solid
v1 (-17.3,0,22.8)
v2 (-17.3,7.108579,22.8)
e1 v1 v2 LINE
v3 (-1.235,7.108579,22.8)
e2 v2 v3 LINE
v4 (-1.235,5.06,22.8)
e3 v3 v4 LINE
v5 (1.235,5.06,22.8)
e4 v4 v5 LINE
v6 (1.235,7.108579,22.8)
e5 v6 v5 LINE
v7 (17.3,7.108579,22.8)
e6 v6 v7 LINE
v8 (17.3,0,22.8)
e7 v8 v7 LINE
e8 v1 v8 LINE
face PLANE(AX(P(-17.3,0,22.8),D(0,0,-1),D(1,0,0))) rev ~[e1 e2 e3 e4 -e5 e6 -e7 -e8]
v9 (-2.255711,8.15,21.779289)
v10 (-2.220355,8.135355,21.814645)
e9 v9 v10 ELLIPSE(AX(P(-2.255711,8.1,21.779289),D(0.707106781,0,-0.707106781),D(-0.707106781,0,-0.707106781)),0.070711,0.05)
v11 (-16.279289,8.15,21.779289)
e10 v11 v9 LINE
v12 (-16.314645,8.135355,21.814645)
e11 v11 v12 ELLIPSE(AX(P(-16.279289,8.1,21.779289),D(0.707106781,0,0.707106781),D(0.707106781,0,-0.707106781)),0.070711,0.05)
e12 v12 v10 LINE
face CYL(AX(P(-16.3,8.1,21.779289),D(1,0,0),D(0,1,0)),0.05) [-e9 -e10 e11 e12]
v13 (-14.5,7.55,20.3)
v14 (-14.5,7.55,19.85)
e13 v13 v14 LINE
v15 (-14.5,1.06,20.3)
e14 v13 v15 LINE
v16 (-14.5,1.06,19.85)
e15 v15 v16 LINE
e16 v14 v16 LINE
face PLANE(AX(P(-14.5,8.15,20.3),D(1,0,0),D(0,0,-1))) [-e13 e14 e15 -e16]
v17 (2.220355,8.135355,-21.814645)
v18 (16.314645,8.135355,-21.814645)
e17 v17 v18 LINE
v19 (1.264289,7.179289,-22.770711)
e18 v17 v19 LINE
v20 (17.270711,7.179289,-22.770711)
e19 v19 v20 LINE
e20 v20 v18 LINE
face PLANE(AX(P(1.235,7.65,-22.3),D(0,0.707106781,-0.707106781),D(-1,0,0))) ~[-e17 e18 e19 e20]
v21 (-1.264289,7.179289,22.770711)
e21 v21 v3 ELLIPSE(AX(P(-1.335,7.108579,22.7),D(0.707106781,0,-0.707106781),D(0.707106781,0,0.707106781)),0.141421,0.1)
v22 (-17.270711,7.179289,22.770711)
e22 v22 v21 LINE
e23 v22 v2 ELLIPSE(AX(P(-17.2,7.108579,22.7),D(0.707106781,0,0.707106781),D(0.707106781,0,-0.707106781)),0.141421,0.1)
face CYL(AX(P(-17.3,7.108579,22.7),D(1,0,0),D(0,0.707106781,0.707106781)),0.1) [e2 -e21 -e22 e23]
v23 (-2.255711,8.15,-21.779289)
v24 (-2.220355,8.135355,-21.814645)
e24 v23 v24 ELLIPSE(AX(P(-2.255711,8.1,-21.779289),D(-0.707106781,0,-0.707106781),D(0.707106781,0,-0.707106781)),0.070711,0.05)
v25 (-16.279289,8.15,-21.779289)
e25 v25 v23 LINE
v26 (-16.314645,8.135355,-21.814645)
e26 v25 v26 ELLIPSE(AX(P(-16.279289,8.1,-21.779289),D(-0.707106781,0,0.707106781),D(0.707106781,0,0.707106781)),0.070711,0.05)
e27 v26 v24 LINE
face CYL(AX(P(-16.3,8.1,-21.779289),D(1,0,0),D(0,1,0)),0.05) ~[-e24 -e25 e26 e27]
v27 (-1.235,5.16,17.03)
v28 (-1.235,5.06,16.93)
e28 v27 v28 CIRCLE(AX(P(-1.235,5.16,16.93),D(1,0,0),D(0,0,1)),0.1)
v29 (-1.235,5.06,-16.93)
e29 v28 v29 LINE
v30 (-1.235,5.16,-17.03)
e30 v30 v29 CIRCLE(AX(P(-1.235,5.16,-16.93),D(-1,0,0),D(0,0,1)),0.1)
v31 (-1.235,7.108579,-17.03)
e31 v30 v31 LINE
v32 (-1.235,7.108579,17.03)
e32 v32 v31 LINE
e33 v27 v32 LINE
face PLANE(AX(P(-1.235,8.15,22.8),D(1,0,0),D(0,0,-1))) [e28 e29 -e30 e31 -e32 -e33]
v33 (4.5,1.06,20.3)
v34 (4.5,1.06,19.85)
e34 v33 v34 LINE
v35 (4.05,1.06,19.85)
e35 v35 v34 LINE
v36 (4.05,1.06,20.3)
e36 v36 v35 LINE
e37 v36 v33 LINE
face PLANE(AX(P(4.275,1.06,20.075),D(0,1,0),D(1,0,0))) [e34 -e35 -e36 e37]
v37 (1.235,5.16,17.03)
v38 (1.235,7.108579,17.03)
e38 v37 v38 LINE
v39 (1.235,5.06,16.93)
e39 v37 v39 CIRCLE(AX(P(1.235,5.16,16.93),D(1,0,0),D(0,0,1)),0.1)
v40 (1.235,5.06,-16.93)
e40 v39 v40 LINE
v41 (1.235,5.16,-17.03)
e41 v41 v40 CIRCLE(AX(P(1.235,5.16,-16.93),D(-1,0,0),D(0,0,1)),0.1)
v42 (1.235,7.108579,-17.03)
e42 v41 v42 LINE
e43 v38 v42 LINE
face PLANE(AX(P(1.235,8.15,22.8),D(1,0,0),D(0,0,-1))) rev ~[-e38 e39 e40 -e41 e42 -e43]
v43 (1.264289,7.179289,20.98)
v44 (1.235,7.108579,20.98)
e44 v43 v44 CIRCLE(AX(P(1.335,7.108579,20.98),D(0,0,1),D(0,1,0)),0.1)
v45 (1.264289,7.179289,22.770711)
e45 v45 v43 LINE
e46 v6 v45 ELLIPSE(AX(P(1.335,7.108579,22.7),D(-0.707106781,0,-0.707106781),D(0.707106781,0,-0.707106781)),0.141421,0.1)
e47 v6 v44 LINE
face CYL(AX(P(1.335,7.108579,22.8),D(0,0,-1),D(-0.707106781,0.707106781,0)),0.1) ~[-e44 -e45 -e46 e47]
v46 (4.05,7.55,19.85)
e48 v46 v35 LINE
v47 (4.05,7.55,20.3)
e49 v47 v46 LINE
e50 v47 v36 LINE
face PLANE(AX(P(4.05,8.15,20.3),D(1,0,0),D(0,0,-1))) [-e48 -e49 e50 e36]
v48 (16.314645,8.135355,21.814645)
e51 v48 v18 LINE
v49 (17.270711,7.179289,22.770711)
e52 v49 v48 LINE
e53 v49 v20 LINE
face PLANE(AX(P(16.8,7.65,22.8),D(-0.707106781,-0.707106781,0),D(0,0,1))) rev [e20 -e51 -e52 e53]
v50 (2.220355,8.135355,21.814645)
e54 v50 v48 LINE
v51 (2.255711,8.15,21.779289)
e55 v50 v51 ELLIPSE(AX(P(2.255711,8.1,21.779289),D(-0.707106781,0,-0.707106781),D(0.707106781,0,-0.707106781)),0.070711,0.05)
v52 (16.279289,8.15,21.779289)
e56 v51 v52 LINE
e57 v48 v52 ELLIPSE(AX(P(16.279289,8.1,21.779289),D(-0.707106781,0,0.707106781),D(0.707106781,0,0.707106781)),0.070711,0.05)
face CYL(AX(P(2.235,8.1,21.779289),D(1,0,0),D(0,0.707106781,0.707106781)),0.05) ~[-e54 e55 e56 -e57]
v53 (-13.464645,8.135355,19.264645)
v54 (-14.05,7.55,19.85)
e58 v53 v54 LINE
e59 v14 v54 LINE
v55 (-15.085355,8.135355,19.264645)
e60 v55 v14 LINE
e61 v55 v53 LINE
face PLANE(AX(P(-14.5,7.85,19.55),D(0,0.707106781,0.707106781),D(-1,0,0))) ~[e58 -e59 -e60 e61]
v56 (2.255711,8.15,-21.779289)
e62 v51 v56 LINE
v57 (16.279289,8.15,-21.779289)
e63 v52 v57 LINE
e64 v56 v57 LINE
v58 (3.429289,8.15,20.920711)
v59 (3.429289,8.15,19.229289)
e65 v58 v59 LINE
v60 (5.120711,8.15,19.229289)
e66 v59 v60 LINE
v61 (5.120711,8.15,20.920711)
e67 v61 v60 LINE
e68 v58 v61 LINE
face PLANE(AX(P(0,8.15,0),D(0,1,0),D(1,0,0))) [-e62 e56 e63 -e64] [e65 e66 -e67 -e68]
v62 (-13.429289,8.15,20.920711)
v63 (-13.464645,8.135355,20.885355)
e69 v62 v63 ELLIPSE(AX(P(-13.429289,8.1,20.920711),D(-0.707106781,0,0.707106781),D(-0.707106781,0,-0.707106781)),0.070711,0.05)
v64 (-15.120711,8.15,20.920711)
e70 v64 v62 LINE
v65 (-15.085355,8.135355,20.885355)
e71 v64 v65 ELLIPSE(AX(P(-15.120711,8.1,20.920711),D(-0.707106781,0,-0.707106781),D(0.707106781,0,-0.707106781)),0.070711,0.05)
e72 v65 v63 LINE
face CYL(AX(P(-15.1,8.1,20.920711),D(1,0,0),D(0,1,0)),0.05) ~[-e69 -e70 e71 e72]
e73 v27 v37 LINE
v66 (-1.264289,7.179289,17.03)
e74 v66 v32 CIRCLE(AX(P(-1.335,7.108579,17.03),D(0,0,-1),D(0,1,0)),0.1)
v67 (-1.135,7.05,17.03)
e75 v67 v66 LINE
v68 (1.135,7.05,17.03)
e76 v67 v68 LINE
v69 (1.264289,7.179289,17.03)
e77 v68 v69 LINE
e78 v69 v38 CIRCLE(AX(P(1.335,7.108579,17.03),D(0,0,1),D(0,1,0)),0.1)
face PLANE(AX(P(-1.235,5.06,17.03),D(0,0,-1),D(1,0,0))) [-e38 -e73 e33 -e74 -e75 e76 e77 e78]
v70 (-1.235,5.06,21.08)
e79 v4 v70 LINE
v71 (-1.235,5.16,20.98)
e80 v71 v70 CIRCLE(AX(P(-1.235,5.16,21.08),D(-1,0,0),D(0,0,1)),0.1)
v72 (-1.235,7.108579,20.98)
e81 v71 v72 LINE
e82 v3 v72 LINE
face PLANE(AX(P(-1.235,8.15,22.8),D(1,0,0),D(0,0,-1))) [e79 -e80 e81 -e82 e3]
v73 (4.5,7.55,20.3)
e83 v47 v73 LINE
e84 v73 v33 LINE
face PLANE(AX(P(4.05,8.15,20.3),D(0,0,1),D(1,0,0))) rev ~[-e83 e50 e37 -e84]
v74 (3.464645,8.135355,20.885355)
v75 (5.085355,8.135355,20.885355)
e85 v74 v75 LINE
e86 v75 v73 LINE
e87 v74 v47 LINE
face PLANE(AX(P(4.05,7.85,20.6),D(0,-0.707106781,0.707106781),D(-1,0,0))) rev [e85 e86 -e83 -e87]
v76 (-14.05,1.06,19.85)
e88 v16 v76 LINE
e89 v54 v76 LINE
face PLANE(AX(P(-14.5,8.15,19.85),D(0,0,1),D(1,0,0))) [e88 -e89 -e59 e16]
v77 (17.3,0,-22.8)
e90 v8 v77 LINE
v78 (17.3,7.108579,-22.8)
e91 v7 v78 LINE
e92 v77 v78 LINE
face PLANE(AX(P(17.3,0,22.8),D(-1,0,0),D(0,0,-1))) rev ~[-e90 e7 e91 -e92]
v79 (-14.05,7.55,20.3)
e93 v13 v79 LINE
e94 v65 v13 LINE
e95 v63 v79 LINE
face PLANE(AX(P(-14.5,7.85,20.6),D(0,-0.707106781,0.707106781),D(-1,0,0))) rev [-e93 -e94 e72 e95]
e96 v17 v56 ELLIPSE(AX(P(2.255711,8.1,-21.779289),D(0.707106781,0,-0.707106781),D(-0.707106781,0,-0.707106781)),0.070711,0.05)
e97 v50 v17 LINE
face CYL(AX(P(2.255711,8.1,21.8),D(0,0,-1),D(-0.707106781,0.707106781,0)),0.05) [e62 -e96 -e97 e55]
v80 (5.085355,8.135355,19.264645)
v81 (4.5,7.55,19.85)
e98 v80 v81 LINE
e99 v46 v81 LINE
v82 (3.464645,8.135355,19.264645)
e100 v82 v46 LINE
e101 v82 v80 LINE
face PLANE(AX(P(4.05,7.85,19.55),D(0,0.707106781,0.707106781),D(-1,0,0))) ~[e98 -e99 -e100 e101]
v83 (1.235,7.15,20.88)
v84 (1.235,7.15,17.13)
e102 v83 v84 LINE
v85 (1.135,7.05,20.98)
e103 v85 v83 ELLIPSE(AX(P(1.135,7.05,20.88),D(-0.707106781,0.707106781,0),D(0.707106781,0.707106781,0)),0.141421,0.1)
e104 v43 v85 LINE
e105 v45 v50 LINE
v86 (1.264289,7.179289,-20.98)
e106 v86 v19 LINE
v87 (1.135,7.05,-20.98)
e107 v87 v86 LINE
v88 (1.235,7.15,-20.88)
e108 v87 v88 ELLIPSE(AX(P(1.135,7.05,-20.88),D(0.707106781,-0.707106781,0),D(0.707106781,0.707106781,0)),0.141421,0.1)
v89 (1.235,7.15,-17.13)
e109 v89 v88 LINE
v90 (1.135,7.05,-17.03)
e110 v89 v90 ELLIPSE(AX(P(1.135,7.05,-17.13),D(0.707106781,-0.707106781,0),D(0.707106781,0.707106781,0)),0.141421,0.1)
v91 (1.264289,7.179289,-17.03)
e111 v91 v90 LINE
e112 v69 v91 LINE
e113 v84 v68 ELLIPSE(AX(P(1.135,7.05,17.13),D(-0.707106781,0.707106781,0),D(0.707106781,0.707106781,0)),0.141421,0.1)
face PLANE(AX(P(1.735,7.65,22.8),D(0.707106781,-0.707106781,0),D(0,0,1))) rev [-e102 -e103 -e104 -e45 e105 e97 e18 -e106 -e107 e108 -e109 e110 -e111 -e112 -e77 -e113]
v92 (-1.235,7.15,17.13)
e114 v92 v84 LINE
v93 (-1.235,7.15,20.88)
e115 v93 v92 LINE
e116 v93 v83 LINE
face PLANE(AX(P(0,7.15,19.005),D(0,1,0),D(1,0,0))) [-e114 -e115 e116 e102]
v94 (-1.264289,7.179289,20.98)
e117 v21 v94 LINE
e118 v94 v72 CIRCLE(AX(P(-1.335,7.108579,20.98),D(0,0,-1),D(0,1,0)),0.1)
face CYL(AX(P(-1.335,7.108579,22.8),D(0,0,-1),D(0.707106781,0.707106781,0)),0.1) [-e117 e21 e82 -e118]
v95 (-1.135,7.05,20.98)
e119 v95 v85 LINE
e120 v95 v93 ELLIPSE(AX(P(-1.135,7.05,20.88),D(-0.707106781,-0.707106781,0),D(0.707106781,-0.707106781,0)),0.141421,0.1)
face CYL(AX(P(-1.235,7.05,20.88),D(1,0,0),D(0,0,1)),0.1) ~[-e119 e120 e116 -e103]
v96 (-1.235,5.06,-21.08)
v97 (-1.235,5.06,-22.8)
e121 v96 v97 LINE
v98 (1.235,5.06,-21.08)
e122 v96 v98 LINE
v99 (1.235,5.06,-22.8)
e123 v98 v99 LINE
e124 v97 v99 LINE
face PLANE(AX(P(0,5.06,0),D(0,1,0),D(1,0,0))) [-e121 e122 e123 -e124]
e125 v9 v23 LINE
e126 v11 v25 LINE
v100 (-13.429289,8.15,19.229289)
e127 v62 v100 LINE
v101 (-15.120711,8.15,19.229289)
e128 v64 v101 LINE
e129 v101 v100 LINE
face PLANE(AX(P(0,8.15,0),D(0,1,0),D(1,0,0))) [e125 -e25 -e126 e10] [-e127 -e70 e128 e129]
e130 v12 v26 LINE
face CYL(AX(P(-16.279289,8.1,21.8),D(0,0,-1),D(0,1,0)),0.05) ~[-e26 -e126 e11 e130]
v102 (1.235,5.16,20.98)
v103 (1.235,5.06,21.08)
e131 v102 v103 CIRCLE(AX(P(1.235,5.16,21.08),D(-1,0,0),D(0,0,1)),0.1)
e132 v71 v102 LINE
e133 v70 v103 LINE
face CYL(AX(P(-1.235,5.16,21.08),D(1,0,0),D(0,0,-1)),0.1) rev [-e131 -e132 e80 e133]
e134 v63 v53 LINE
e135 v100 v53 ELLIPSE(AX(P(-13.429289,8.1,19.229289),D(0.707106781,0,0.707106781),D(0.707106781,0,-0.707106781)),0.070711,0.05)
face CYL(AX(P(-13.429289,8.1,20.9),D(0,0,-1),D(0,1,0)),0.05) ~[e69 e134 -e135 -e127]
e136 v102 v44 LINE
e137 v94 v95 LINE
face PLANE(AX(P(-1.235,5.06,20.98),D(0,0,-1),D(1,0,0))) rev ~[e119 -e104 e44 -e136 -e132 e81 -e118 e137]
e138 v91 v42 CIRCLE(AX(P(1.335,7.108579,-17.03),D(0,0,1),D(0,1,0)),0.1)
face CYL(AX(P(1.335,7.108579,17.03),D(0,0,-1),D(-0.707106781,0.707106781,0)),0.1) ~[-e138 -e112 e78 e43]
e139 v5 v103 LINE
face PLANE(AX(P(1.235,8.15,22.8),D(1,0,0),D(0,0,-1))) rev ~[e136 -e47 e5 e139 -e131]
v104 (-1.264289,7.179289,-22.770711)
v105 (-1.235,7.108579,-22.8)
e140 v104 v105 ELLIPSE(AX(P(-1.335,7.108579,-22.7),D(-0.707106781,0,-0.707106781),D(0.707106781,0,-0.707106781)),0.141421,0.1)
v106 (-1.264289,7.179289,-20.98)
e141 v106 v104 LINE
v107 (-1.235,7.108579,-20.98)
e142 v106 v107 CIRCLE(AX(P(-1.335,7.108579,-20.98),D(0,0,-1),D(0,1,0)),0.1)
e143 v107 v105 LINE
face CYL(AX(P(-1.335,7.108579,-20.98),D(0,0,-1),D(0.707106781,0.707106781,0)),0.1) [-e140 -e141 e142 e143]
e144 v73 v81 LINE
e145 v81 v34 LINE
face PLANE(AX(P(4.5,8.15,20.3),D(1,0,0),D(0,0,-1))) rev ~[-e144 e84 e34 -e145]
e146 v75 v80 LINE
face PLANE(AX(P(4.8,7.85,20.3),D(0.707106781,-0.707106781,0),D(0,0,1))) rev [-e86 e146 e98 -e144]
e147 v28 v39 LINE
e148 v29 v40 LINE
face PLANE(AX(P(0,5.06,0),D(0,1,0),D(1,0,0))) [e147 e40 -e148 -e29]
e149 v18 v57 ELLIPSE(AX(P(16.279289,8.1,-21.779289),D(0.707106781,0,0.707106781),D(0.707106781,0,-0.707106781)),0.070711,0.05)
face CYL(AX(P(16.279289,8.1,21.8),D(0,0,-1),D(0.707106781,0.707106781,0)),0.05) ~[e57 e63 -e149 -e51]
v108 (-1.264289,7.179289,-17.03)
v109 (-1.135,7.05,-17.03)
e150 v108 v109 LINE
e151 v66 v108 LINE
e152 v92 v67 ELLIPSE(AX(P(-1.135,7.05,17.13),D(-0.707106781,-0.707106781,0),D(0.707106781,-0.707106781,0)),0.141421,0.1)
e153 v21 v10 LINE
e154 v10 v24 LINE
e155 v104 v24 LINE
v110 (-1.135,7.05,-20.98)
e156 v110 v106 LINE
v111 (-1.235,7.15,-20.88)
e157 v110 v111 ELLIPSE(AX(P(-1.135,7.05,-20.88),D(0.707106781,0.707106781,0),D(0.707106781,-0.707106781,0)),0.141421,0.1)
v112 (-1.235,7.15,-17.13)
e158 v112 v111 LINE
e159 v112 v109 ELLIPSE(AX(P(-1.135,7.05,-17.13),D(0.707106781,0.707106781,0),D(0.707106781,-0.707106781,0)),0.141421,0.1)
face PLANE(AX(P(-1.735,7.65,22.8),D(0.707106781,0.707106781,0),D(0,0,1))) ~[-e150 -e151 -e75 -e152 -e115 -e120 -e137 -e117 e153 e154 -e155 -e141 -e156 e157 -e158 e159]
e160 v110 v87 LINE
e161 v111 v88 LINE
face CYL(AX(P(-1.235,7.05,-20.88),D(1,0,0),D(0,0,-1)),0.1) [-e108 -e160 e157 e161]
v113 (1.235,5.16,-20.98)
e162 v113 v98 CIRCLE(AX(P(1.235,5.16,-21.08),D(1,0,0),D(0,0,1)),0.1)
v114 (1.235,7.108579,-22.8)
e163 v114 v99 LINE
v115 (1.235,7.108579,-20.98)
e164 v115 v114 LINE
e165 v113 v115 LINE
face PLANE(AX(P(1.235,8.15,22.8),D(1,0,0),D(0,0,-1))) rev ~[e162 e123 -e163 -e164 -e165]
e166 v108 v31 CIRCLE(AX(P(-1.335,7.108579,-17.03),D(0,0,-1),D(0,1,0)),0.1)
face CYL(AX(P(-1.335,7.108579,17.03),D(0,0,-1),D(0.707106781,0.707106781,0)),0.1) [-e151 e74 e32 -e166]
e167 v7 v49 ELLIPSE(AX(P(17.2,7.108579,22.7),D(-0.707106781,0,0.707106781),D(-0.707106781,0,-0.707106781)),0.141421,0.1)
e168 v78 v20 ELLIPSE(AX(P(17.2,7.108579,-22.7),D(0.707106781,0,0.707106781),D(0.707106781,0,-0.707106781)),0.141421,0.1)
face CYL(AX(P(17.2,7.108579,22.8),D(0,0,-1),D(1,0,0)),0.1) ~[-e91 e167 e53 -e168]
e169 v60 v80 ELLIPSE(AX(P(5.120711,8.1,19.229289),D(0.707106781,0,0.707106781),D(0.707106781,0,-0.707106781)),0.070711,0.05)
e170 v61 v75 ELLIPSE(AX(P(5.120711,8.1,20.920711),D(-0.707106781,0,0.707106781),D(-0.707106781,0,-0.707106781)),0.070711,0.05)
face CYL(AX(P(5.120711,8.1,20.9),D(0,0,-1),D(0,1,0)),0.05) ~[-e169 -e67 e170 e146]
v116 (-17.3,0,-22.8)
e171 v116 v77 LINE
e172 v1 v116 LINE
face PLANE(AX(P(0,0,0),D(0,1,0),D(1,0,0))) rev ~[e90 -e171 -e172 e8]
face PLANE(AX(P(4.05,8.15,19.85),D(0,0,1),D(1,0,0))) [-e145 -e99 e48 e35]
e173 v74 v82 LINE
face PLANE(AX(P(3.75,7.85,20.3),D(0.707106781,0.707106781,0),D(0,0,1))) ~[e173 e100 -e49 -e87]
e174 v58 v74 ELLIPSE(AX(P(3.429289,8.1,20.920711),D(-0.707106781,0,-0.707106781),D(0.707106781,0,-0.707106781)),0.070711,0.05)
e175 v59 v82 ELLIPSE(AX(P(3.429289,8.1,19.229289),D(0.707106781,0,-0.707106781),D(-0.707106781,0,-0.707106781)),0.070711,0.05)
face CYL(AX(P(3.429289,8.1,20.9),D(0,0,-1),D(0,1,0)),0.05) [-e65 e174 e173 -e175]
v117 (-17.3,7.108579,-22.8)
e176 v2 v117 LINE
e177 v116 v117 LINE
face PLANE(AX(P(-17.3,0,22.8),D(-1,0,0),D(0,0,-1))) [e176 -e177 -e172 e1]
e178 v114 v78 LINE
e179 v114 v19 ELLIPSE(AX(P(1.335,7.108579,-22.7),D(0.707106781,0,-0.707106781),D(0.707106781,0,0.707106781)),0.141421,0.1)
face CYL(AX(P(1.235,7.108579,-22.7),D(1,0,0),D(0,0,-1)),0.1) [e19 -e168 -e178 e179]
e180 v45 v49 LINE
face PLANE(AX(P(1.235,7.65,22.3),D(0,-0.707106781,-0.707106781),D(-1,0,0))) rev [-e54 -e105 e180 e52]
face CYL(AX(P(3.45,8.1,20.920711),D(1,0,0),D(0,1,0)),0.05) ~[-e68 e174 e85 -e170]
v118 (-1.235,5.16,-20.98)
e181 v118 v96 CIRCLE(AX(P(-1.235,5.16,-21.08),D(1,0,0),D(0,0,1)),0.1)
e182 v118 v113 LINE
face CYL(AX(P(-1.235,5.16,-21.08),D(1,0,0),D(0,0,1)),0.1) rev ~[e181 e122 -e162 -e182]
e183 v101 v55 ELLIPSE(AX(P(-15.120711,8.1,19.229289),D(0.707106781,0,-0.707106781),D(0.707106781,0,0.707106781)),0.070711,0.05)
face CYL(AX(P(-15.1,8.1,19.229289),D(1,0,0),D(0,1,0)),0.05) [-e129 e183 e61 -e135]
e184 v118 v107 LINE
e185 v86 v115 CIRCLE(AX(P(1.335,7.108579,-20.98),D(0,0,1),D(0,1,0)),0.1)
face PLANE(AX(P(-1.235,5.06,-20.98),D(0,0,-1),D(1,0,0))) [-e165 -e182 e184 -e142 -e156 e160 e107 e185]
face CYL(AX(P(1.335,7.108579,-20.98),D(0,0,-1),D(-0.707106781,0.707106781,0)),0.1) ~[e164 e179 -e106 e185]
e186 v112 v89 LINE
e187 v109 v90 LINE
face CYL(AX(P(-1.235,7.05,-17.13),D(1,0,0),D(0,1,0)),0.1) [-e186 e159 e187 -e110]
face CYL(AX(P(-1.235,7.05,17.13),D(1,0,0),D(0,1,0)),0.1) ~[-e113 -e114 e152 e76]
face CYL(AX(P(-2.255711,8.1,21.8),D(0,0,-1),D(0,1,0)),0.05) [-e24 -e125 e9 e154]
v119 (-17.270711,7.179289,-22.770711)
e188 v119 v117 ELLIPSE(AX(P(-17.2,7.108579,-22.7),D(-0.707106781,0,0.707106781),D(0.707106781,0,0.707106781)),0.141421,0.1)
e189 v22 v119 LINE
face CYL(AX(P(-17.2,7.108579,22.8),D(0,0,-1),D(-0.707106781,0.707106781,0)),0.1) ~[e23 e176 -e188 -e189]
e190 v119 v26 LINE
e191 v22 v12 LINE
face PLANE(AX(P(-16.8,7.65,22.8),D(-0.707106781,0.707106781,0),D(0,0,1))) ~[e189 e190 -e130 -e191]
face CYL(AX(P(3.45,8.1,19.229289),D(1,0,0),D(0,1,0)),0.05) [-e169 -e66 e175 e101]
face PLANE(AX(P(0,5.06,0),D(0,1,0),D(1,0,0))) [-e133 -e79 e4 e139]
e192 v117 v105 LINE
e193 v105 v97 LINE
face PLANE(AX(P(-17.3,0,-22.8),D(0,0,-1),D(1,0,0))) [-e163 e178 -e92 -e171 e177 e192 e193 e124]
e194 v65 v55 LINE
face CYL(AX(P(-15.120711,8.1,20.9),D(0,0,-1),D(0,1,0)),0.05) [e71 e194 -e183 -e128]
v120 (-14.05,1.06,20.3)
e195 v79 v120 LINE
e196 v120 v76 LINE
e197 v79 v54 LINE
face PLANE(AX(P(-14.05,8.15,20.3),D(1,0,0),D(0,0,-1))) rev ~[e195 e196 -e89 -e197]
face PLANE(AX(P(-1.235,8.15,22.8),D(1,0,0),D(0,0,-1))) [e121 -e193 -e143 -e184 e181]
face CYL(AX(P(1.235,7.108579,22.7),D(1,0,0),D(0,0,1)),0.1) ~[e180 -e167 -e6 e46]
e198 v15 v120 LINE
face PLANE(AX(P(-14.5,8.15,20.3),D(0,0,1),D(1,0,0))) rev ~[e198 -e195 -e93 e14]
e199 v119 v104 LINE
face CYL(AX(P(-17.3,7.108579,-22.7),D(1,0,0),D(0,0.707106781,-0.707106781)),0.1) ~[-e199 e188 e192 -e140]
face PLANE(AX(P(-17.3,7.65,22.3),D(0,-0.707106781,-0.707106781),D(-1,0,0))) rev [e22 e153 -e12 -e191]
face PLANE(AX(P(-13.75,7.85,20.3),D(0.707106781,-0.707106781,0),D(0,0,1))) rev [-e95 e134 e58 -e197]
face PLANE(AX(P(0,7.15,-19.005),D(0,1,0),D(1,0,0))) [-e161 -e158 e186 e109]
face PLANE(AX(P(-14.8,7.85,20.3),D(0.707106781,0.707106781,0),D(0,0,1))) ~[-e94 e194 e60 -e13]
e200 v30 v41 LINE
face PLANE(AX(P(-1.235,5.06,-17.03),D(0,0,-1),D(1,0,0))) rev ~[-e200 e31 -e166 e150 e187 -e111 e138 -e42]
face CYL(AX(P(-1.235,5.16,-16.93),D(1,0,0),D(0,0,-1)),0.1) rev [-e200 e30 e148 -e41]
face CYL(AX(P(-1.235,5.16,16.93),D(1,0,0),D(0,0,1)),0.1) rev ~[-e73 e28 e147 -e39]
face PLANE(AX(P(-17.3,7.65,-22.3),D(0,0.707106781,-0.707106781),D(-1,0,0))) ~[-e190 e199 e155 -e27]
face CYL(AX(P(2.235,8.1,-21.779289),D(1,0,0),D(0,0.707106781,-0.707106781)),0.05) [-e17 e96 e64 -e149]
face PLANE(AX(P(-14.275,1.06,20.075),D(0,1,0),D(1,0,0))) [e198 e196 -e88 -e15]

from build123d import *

# Parameters (mm, degrees)
SKETCH1_W           = 34.6
SKETCH1_H           = 45.6
BOSS_EXTRUDE1_DEPTH = 8.15
SKETCH2_W           = 2.47
SKETCH2_H           = 45.6
CUT_EXTRUDE1_DEPTH  = 3.09
CHAMFER1_SIZE       = 1
SKETCH3_W           = 2.47
SKETCH3_H           = 3.95
BOSS_EXTRUDE2_DEPTH = 2.09
SKETCH4_W           = 0.45
SKETCH4_H           = 0.45
CUT_EXTRUDE2_DEPTH  = 7.09
CHAMFER2_SIZE       = 0.6
FILLET2_R           = 0.05
FILLET3_R           = 0.1
FILLET4_R           = 0.1


with BuildPart() as part:
    # Sketch1 → Boss-Extrude1 (new body)
    with BuildSketch(Plane(origin=(0, 0, 0), x_dir=(1, 0, 0), z_dir=(0, 1, 0))):
        Rectangle(SKETCH1_W, SKETCH1_H)
    extrude(amount=BOSS_EXTRUDE1_DEPTH)

    # Sketch2 → Cut-Extrude1 (cut)
    with BuildSketch(Plane(origin=(0, 8.15, 0), x_dir=(1, 0, 0), z_dir=(0, 1, 0))):
        Rectangle(SKETCH2_W, SKETCH2_H)
    extrude(amount=-CUT_EXTRUDE1_DEPTH, mode=Mode.SUBTRACT)

    # Chamfer1
    chamfer1_edges = [part.edges().sort_by_distance(p)[0] for p in [
        (-17.3, 8.15, 0),
        (-9.2675, 8.15, 22.8),
        (-9.2675, 8.15, -22.8),
        (9.2675, 8.15, 22.8),
        (1.235, 8.15, 0),
        (-1.235, 8.15, 0),
        (17.3, 8.15, 0),
        (9.2675, 8.15, -22.8),
    ]]
    chamfer(chamfer1_edges, length=CHAMFER1_SIZE)

    # Sketch3 → Boss-Extrude2 (add)
    with BuildSketch(Plane(origin=(0, 5.06, 0), x_dir=(1, 0, 0), z_dir=(0, 1, 0))):
        with Locations((0, 19.005)):
            Rectangle(SKETCH3_W, SKETCH3_H)
        with Locations((0, -19.005)):
            Rectangle(SKETCH3_W, SKETCH3_H)
    extrude(amount=BOSS_EXTRUDE2_DEPTH)

    # Sketch4 → Cut-Extrude2 (cut)
    with BuildSketch(Plane(origin=(0, 8.15, 0), x_dir=(1, 0, 0), z_dir=(0, 1, 0))):
        with Locations((-14.275, -20.075)):
            Rectangle(SKETCH4_W, SKETCH4_H)
        with Locations((4.275, -20.075)):
            Rectangle(SKETCH4_W, SKETCH4_H)
    extrude(amount=-CUT_EXTRUDE2_DEPTH, mode=Mode.SUBTRACT)

    # Chamfer2
    chamfer2_edges = [part.edges().sort_by_distance(p)[0] for p in [
        (-14.05, 8.15, 20.075),
        (-14.275, 8.15, 19.85),
        (-14.5, 8.15, 20.075),
        (-14.275, 8.15, 20.3),
        (4.275, 8.15, 19.85),
        (4.05, 8.15, 20.075),
        (4.275, 8.15, 20.3),
        (4.5, 8.15, 20.075),
    ]]
    chamfer(chamfer2_edges, length=CHAMFER2_SIZE)

    # Fillet2
    fillet2_edges = [part.edges().sort_by_distance(p)[0] for p in [
        (2.235, 8.15, 0),
        (9.2675, 8.15, 21.8),
        (16.3, 8.15, 0),
        (9.2675, 8.15, -21.8),
        (-2.235, 8.15, 0),
        (-9.2675, 8.15, -21.8),
        (-16.3, 8.15, 0),
        (-9.2675, 8.15, 21.8),
        (3.45, 8.15, 20.075),
        (4.275, 8.15, 19.25),
        (5.1, 8.15, 20.075),
        (4.275, 8.15, 20.9),
        (-14.275, 8.15, 19.25),
        (-15.1, 8.15, 20.075),
        (-13.45, 8.15, 20.075),
        (-14.275, 8.15, 20.9),
    ]]
    fillet(fillet2_edges, radius=FILLET2_R)

    # Fillet3
    fillet3_edges = [part.edges().sort_by_distance(p)[0] for p in [
        (-9.2675, 7.15, -22.8),
        (9.2675, 7.15, -22.8),
        (17.3, 7.15, 0),
        (-9.2675, 7.15, 22.8),
        (9.2675, 7.15, 22.8),
        (1.235, 7.15, 21.89),
        (-17.3, 7.15, 0),
        (-1.235, 7.15, -21.89),
        (-1.235, 7.15, 0),
        (1.235, 7.15, -21.89),
        (-1.235, 7.15, 21.89),
        (1.235, 7.15, 0),
    ]]
    fillet(fillet3_edges, radius=FILLET3_R)

    # Fillet4
    fillet4_edges = [part.edges().sort_by_distance(p)[0] for p in [
        (0, 5.06, -20.98),
        (0, 5.06, -17.03),
        (0, 7.15, -20.98),
        (0, 7.15, -17.03),
        (0, 5.06, 17.03),
        (0, 5.06, 20.98),
        (0, 7.15, 17.03),
        (0, 7.15, 20.98),
    ]]
    fillet(fillet4_edges, radius=FILLET4_R)


solid = part.part
